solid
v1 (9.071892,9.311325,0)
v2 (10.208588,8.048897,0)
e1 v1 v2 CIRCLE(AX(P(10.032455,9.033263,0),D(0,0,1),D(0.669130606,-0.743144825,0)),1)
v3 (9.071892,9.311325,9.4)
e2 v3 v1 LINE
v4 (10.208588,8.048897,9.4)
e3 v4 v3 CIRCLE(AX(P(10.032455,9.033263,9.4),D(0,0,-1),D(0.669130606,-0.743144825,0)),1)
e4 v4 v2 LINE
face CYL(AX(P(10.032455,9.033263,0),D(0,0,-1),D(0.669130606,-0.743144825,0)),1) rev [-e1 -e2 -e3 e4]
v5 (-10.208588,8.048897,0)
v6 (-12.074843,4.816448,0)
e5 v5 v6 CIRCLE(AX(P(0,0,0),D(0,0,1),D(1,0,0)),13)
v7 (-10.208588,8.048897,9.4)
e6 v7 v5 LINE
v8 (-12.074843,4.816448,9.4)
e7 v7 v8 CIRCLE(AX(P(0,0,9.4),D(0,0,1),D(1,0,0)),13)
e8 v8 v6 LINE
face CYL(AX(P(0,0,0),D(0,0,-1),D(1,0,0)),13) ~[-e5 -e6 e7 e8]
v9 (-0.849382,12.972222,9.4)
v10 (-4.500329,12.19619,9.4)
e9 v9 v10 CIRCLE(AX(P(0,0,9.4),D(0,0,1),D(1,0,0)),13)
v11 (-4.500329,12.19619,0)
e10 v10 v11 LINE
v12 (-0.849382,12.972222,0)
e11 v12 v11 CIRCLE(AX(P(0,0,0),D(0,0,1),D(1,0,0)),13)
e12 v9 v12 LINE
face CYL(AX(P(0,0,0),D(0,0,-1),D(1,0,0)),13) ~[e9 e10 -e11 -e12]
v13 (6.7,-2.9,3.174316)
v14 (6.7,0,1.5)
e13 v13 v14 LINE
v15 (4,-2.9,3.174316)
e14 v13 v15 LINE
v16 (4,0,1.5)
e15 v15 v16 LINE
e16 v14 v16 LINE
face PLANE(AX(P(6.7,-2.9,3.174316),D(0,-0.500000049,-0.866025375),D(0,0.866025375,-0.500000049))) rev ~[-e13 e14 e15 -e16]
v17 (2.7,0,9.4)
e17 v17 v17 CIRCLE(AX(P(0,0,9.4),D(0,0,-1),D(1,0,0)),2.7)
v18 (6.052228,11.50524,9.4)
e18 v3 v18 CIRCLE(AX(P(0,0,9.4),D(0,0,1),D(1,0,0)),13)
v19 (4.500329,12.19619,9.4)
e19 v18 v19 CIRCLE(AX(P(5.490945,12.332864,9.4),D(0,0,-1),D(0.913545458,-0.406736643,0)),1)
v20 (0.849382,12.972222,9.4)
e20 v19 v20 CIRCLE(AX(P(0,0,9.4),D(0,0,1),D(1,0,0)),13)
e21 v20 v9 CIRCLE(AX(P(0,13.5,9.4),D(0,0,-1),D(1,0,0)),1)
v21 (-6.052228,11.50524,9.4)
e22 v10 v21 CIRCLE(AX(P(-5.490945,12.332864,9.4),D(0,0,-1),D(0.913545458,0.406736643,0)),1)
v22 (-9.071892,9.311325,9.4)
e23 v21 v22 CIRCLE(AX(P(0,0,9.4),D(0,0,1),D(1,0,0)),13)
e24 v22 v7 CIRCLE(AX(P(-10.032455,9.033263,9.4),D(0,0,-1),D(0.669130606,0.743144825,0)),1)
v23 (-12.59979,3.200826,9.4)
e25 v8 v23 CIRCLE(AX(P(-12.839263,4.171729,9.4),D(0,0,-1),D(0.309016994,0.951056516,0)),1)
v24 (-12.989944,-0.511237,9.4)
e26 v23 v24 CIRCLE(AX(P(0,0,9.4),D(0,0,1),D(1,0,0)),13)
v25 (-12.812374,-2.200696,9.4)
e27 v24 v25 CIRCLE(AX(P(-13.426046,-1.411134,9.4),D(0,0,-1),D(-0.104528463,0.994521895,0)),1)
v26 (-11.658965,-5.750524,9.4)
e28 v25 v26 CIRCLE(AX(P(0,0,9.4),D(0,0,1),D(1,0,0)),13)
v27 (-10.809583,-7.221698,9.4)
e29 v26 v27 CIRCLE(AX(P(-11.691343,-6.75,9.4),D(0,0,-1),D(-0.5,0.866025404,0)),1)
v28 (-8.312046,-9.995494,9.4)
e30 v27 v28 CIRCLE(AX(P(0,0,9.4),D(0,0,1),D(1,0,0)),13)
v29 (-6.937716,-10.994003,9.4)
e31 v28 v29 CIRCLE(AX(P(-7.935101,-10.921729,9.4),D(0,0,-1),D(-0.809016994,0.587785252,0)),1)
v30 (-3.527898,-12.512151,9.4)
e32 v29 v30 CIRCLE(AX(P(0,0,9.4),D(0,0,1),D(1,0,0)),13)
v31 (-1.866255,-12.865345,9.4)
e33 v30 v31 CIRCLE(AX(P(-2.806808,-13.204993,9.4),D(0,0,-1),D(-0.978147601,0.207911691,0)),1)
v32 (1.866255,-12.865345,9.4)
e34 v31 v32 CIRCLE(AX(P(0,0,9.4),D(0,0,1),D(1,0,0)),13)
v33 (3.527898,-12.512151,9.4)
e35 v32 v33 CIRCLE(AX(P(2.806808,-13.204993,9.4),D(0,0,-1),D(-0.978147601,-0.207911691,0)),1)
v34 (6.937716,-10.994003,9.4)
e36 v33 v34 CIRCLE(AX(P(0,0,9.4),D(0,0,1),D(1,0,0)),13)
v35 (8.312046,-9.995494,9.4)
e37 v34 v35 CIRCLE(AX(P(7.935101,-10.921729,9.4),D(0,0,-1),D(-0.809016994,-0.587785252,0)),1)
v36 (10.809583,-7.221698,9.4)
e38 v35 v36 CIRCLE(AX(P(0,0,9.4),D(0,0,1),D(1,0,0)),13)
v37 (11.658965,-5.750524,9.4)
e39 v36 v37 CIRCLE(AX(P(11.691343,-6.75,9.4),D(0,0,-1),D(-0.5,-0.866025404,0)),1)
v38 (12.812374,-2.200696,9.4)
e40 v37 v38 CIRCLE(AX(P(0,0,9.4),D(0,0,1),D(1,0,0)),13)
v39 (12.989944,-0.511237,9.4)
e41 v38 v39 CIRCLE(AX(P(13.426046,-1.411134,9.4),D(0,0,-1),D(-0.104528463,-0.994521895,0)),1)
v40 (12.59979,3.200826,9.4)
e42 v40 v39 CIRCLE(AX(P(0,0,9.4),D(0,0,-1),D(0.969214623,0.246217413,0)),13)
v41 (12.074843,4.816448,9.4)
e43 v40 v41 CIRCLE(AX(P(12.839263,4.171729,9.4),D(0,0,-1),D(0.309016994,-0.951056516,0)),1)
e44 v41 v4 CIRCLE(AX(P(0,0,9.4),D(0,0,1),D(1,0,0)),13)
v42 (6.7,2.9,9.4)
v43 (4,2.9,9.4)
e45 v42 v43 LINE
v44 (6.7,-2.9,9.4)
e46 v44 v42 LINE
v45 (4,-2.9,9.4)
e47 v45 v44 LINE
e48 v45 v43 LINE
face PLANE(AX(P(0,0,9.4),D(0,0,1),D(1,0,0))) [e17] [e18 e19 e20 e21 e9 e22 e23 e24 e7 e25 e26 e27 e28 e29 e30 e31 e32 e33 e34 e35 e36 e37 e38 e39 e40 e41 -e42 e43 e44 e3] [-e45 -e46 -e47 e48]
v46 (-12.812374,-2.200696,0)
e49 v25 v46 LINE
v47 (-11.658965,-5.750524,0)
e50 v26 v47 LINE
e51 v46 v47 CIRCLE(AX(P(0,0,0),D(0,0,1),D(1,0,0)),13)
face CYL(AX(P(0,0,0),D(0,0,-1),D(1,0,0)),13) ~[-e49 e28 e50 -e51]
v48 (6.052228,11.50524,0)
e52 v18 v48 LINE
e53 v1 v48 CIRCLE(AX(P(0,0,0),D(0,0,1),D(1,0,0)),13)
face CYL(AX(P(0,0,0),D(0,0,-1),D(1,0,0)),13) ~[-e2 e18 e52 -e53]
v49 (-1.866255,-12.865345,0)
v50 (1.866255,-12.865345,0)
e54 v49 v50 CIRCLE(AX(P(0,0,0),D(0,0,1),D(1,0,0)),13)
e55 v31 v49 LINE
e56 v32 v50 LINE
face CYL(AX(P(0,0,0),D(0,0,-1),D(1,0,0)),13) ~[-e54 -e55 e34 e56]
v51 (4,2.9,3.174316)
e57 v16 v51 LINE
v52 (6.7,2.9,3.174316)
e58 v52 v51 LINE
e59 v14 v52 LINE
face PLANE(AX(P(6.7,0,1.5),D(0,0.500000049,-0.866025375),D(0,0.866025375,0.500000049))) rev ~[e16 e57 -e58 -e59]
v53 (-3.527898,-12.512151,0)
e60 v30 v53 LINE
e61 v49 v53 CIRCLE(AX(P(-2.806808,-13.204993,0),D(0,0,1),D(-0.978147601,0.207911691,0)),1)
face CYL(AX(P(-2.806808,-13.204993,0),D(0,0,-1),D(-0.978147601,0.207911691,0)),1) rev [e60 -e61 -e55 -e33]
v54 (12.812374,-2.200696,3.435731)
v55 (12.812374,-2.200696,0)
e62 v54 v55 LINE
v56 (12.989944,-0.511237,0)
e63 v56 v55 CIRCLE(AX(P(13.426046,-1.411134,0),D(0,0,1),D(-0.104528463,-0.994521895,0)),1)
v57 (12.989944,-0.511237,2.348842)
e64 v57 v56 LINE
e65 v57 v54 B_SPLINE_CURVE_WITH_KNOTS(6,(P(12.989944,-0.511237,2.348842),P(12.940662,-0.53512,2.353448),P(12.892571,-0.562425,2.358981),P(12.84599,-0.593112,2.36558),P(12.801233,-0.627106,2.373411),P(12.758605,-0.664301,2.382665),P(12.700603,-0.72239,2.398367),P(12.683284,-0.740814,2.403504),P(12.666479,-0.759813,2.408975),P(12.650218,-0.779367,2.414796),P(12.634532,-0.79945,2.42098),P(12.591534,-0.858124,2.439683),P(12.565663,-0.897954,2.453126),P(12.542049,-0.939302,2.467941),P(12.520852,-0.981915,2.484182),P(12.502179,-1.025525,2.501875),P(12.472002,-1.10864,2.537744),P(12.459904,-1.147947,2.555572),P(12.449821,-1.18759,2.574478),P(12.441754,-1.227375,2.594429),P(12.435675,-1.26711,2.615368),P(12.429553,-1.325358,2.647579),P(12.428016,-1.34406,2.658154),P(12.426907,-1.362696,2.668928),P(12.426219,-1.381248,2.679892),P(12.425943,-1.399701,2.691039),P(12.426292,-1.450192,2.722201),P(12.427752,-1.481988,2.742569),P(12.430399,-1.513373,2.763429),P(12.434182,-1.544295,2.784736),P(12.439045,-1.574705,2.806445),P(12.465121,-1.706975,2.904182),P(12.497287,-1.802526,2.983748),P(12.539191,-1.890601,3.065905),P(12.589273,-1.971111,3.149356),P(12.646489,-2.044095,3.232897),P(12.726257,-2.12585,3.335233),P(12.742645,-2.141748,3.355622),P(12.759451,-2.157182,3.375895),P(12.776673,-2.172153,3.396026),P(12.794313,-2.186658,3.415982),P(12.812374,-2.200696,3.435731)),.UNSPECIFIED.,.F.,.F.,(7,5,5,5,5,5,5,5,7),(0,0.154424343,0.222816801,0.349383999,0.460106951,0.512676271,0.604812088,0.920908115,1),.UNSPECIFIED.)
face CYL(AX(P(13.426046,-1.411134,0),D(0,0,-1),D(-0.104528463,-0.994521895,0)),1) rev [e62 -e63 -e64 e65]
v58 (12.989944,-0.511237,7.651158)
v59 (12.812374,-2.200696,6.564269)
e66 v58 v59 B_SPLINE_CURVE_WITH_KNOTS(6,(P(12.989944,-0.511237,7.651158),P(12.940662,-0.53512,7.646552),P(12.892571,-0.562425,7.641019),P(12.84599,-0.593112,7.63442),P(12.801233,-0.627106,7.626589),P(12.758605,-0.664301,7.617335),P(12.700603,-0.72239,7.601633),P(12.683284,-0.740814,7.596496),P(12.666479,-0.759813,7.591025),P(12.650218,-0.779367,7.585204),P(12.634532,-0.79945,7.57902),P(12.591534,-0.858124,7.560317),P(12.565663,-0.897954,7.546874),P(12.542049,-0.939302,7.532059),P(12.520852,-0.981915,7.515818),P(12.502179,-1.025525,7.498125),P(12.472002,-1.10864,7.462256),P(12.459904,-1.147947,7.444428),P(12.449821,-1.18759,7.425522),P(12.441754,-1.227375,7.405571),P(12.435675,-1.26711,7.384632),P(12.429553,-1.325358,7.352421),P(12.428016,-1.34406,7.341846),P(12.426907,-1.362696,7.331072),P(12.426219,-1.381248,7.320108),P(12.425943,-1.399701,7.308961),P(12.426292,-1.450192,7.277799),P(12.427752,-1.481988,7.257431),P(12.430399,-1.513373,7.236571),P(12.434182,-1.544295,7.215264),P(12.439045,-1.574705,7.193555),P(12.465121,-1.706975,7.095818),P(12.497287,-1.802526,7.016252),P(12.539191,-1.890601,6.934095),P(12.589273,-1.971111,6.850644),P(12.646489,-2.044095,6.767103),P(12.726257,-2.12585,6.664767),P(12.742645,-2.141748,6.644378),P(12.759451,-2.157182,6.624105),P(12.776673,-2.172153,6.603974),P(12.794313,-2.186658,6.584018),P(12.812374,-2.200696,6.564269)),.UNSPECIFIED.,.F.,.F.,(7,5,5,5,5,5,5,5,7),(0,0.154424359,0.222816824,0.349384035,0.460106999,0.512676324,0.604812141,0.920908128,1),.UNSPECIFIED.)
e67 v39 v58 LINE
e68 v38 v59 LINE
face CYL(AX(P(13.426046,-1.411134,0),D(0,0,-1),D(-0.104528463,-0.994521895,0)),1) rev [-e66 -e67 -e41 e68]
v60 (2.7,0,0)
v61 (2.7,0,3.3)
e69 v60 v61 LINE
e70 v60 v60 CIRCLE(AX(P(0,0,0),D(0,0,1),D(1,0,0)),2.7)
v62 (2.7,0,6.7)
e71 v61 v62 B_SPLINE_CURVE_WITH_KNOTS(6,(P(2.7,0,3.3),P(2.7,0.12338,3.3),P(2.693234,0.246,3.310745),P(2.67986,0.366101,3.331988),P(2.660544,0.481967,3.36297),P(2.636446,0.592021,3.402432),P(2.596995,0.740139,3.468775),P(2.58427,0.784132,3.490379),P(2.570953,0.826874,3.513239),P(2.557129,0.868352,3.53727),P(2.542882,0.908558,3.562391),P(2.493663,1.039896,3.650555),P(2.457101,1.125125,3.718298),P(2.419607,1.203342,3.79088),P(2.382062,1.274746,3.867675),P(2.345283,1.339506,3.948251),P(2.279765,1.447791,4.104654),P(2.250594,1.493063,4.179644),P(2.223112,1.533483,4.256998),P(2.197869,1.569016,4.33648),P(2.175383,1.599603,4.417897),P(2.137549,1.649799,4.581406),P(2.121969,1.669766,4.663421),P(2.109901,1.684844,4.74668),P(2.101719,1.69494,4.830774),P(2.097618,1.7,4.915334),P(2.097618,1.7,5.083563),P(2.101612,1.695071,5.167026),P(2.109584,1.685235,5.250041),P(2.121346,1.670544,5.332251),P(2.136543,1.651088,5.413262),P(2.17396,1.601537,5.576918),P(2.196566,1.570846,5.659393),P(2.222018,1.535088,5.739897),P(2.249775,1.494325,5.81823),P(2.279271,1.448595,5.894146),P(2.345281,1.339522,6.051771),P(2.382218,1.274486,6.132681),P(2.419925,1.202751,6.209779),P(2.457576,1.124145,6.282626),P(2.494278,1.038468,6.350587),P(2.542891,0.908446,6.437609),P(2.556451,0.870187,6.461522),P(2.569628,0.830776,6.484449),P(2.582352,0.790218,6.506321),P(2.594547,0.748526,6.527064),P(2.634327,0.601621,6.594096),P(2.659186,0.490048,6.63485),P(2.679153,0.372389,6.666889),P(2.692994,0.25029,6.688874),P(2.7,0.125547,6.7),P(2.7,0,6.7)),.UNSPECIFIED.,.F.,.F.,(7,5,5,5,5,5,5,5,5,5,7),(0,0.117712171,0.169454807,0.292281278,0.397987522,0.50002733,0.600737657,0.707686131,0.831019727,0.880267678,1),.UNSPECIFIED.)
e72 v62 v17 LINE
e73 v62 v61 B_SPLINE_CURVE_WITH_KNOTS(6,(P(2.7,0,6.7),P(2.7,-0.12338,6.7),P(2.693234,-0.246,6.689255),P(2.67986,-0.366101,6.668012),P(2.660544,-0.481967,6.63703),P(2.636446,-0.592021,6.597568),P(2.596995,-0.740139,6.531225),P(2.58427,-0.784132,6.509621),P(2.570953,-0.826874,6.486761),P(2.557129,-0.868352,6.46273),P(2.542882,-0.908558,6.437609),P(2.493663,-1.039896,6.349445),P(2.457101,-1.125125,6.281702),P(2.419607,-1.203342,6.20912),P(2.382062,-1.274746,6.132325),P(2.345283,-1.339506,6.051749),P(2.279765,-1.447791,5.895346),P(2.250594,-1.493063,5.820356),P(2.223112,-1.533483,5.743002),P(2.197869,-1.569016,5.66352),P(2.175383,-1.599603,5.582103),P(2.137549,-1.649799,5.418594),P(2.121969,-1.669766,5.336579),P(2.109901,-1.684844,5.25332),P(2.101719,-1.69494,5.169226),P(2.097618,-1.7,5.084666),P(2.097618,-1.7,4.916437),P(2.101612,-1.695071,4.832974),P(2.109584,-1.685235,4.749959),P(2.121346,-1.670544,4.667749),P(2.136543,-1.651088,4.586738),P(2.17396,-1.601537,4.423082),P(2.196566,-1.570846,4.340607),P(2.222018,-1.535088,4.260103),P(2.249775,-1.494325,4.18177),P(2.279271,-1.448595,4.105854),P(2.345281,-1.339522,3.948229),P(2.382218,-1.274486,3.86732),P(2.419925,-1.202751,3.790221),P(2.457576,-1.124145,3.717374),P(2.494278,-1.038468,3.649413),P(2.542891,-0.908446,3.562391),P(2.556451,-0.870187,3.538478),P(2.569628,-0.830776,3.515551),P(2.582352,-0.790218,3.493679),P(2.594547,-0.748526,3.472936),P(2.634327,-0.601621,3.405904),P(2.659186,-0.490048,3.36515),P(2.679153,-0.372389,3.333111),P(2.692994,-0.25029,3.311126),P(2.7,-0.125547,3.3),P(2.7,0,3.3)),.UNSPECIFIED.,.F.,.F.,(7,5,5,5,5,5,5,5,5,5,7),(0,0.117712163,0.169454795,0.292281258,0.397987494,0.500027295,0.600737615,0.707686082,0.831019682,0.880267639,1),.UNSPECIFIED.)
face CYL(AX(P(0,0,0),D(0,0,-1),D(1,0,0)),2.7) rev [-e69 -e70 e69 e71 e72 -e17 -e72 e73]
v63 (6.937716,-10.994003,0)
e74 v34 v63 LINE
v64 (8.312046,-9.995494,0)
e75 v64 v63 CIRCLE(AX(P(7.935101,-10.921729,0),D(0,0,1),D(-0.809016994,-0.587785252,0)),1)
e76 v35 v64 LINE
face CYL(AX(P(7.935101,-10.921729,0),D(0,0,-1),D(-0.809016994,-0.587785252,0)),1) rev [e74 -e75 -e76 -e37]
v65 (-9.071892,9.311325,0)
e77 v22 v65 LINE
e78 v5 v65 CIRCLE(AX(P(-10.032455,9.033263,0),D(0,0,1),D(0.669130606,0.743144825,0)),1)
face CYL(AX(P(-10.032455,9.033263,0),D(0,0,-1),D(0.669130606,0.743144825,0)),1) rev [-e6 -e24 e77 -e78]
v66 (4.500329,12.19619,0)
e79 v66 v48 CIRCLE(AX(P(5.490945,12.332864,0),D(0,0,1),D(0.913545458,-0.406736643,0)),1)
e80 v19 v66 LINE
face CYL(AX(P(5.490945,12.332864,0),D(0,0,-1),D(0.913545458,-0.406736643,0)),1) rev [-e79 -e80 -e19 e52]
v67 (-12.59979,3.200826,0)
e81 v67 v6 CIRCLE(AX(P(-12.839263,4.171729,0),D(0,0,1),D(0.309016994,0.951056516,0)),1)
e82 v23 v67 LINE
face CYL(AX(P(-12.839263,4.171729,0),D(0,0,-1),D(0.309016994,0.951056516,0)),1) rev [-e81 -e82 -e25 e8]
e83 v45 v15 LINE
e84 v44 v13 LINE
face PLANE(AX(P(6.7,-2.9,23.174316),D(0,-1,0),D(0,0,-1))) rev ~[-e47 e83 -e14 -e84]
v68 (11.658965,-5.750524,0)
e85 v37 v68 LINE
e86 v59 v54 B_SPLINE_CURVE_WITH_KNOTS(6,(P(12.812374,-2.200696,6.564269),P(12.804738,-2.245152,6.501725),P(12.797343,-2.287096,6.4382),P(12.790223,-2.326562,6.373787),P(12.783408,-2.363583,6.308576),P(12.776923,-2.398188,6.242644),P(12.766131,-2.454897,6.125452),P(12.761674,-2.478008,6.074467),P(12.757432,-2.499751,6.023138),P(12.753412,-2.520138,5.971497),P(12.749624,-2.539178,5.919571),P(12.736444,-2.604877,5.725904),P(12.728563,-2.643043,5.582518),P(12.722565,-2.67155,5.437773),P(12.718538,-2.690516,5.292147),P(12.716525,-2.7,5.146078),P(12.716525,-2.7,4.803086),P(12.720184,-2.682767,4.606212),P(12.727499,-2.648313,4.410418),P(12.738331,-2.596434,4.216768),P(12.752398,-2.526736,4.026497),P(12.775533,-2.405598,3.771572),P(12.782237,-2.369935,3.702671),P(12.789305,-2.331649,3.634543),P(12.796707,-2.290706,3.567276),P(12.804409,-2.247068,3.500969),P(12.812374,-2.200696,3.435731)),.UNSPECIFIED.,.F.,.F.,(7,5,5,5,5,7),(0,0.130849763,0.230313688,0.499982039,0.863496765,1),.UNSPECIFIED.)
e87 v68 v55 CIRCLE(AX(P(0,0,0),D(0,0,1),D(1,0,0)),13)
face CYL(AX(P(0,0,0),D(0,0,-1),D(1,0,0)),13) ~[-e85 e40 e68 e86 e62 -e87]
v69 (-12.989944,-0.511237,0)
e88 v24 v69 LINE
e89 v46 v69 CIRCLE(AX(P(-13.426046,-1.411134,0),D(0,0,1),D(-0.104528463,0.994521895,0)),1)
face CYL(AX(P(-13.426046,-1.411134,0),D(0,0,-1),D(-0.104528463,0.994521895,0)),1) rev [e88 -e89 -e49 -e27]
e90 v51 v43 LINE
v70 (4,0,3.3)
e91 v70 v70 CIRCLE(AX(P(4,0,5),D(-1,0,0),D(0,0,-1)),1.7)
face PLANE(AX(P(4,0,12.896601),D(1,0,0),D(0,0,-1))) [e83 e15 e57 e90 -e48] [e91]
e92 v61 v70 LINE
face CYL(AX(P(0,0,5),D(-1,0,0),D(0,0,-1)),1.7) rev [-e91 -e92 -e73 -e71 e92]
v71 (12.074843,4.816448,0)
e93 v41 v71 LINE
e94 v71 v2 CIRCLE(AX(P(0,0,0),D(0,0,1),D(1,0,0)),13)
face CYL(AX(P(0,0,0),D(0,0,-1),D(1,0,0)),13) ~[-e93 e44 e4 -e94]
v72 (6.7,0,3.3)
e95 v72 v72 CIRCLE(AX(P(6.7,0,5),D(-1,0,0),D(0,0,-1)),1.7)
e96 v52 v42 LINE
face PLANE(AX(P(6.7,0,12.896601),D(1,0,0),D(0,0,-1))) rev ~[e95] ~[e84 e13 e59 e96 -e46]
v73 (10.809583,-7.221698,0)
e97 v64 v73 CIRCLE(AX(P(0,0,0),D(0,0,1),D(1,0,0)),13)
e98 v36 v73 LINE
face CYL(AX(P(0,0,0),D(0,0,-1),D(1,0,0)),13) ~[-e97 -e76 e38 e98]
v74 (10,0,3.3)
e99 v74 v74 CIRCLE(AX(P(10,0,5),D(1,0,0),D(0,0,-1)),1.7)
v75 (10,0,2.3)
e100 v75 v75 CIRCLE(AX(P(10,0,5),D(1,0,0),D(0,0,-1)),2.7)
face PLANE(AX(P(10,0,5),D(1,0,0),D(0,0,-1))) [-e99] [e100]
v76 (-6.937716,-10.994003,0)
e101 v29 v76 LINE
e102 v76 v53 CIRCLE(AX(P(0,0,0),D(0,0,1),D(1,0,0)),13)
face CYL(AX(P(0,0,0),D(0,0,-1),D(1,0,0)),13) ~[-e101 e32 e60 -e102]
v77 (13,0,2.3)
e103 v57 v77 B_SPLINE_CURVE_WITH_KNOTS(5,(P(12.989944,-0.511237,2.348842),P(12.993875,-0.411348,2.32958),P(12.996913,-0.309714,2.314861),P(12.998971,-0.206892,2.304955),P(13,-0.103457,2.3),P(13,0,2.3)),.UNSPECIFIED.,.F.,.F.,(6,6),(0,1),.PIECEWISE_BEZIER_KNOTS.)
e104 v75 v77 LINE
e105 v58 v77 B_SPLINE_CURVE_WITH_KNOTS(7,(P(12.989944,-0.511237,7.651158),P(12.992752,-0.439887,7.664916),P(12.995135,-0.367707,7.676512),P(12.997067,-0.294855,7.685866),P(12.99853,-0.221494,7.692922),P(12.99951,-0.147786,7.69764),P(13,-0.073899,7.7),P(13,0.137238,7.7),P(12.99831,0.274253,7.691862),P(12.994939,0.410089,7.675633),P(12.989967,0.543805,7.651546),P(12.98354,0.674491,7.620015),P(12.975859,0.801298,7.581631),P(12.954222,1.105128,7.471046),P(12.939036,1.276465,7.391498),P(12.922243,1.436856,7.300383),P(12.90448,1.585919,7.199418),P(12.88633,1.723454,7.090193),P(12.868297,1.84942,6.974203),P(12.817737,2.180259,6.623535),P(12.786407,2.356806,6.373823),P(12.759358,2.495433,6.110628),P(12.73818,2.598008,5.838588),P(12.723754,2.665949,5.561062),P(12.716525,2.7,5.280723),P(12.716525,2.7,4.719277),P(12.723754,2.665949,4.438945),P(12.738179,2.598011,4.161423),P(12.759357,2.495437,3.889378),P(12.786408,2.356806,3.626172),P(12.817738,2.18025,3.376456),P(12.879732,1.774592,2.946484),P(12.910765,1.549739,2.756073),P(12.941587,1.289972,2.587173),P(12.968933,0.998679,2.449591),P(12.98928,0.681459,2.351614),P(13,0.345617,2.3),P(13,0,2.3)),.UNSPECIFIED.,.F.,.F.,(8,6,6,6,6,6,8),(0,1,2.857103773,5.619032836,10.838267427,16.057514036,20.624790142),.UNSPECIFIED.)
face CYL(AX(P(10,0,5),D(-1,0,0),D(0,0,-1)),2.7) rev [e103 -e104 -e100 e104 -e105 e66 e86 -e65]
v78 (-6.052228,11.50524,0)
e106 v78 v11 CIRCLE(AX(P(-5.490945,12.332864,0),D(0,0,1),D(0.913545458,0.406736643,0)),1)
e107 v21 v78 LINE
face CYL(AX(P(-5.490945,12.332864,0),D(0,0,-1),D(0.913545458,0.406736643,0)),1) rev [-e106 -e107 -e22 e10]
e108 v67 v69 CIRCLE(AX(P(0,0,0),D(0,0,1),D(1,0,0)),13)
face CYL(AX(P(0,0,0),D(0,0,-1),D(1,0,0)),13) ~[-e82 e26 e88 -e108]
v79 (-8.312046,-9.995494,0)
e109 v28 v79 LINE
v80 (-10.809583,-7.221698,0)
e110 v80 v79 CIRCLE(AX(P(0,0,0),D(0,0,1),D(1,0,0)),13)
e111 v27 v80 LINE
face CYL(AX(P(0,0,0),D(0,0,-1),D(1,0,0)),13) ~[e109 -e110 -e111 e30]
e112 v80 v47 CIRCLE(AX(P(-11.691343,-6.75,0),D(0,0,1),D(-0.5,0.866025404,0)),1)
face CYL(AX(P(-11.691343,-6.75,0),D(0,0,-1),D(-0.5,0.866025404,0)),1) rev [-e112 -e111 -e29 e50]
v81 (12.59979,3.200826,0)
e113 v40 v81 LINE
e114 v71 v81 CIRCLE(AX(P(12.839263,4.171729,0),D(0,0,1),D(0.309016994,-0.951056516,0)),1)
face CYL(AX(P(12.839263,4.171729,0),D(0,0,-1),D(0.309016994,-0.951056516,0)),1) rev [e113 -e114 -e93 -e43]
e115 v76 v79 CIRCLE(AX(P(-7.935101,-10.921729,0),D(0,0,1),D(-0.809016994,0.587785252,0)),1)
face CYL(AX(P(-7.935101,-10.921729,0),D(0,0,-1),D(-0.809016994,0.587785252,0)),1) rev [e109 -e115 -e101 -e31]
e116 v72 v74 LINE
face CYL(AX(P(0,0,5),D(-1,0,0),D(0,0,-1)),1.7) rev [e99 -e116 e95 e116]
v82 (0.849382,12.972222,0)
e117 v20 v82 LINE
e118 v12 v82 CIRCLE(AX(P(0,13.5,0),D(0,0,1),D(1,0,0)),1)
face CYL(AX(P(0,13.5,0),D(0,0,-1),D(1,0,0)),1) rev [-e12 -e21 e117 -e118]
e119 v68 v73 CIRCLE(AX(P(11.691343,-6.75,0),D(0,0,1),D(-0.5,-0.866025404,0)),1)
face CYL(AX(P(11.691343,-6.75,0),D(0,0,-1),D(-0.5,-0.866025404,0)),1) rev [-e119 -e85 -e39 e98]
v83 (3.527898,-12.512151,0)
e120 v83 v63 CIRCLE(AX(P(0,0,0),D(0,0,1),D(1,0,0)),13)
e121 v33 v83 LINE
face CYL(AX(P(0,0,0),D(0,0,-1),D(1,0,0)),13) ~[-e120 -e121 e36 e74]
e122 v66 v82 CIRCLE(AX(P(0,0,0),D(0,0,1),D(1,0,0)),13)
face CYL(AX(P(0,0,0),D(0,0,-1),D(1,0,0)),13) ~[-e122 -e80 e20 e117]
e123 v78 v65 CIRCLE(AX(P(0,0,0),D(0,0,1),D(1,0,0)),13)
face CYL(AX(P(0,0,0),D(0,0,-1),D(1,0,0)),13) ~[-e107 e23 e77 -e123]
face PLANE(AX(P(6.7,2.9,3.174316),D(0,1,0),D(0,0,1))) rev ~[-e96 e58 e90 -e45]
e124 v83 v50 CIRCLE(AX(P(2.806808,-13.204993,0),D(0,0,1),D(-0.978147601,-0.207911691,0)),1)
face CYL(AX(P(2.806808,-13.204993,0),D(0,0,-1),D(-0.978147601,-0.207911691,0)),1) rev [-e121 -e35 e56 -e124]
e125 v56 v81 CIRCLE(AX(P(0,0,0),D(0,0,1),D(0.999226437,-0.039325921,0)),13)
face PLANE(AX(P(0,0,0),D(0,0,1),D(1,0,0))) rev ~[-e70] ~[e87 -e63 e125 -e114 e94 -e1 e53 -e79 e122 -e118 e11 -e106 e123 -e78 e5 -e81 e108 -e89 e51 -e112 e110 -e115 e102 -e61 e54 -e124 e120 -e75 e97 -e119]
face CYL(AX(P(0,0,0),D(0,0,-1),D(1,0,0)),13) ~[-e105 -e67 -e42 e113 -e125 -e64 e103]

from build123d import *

# Parameters (mm, degrees)
PAD007_DEPTH         = 2.7
CYLINDER1020_R       = 2.7
CYLINDER1020_DEPTH   = 10
CYLINDER1018_R       = 1.7
CYLINDER1018_DEPTH   = 10
CLONE023_PITCH_ANGLE = 90
CYLINDER1014_R       = 2.7
CYLINDER1014_DEPTH   = 100
CYLINDER1016_R       = 1
CYLINDER1016_DEPTH   = 10
ARRAY_COUNT          = 15
CYLINDER_R           = 13
CYLINDER_DEPTH       = 9.4


with BuildPart() as clone_of_m3nuthousingmaster001:
    # Sketch008 → Pad007 (new body)
    with BuildSketch(Plane(origin=(65, 30, 1.5), x_dir=(0, 0, 1), z_dir=(-1, 0, 0))):
        Polygon((0, 0), (1.674316, 2.9), (21.674316, 2.9), (21.674316, -2.9), (1.674316, -2.9), align=None)
    extrude(amount=PAD007_DEPTH)


with BuildPart() as clone_of_m3nuthousingmaster001_1:
    # Clone010 placement: moved
    add(clone_of_m3nuthousingmaster001.part.moved(Location((-58.3, -30, 0))))


with BuildPart() as cylinder1015:
    # Cylinder1020 → Cylinder1020 (new body)
    with BuildSketch(Plane.XY.offset(10)):
        Circle(CYLINDER1020_R)
    extrude(amount=CYLINDER1020_DEPTH)


with BuildPart() as clone_of_m3bolthead:
    # Cylinder1018 → Cylinder1018 (new body)
    with BuildSketch(Plane.XY):
        Circle(CYLINDER1018_R)
    extrude(amount=CYLINDER1018_DEPTH)

    # Fusion024: union Cylinder1015
    add(cylinder1015.part)


with BuildPart() as clone_of_m3bolthead_1:
    # Clone023 pitch: moved
    add(clone_of_m3bolthead.part.rotate(Axis((0, 0, 0), (0, 1, 0)), CLONE023_PITCH_ANGLE))


with BuildPart() as clone_of_m3bolthead_2:
    # Clone023 placement: moved
    add(clone_of_m3bolthead_1.part.moved(Location((0, 0, 5))))


with BuildPart() as fusion:
    # Cylinder1014 → Cylinder1014 (new body)
    with BuildSketch(Plane.XY):
        Circle(CYLINDER1014_R)
    extrude(amount=CYLINDER1014_DEPTH)

    # Fusion: union Clone of M3NutHousingMaster001, Clone of M3BoltHead
    add(clone_of_m3nuthousingmaster001_1.part)
    add(clone_of_m3bolthead_2.part)


with BuildPart() as array:
    # Cylinder1016 → Cylinder1016 (new body)
    with BuildSketch(Plane(origin=(0, 13.5, 0), x_dir=(1, 0, 0), z_dir=(0, 0, 1))):
        Circle(CYLINDER1016_R)
    extrude(amount=CYLINDER1016_DEPTH)

    # Array: Array ×15 about axis
    array_axis = Axis((0, 0, 0), (0, 0, 1))


with BuildPart() as array_1:
    add(array.part)
    for i in range(1, ARRAY_COUNT):
        add(array.part.rotate(array_axis, i * 360 / ARRAY_COUNT))


with BuildPart() as wheel:
    # Cylinder → Cylinder (new body)
    with BuildSketch(Plane.XY):
        Circle(CYLINDER_R)
    extrude(amount=CYLINDER_DEPTH)

    # Cut013: cut Array
    add(array_1.part, mode=Mode.SUBTRACT)

    # Cut019: cut Fusion
    add(fusion.part, mode=Mode.SUBTRACT)


solid = wheel.part
